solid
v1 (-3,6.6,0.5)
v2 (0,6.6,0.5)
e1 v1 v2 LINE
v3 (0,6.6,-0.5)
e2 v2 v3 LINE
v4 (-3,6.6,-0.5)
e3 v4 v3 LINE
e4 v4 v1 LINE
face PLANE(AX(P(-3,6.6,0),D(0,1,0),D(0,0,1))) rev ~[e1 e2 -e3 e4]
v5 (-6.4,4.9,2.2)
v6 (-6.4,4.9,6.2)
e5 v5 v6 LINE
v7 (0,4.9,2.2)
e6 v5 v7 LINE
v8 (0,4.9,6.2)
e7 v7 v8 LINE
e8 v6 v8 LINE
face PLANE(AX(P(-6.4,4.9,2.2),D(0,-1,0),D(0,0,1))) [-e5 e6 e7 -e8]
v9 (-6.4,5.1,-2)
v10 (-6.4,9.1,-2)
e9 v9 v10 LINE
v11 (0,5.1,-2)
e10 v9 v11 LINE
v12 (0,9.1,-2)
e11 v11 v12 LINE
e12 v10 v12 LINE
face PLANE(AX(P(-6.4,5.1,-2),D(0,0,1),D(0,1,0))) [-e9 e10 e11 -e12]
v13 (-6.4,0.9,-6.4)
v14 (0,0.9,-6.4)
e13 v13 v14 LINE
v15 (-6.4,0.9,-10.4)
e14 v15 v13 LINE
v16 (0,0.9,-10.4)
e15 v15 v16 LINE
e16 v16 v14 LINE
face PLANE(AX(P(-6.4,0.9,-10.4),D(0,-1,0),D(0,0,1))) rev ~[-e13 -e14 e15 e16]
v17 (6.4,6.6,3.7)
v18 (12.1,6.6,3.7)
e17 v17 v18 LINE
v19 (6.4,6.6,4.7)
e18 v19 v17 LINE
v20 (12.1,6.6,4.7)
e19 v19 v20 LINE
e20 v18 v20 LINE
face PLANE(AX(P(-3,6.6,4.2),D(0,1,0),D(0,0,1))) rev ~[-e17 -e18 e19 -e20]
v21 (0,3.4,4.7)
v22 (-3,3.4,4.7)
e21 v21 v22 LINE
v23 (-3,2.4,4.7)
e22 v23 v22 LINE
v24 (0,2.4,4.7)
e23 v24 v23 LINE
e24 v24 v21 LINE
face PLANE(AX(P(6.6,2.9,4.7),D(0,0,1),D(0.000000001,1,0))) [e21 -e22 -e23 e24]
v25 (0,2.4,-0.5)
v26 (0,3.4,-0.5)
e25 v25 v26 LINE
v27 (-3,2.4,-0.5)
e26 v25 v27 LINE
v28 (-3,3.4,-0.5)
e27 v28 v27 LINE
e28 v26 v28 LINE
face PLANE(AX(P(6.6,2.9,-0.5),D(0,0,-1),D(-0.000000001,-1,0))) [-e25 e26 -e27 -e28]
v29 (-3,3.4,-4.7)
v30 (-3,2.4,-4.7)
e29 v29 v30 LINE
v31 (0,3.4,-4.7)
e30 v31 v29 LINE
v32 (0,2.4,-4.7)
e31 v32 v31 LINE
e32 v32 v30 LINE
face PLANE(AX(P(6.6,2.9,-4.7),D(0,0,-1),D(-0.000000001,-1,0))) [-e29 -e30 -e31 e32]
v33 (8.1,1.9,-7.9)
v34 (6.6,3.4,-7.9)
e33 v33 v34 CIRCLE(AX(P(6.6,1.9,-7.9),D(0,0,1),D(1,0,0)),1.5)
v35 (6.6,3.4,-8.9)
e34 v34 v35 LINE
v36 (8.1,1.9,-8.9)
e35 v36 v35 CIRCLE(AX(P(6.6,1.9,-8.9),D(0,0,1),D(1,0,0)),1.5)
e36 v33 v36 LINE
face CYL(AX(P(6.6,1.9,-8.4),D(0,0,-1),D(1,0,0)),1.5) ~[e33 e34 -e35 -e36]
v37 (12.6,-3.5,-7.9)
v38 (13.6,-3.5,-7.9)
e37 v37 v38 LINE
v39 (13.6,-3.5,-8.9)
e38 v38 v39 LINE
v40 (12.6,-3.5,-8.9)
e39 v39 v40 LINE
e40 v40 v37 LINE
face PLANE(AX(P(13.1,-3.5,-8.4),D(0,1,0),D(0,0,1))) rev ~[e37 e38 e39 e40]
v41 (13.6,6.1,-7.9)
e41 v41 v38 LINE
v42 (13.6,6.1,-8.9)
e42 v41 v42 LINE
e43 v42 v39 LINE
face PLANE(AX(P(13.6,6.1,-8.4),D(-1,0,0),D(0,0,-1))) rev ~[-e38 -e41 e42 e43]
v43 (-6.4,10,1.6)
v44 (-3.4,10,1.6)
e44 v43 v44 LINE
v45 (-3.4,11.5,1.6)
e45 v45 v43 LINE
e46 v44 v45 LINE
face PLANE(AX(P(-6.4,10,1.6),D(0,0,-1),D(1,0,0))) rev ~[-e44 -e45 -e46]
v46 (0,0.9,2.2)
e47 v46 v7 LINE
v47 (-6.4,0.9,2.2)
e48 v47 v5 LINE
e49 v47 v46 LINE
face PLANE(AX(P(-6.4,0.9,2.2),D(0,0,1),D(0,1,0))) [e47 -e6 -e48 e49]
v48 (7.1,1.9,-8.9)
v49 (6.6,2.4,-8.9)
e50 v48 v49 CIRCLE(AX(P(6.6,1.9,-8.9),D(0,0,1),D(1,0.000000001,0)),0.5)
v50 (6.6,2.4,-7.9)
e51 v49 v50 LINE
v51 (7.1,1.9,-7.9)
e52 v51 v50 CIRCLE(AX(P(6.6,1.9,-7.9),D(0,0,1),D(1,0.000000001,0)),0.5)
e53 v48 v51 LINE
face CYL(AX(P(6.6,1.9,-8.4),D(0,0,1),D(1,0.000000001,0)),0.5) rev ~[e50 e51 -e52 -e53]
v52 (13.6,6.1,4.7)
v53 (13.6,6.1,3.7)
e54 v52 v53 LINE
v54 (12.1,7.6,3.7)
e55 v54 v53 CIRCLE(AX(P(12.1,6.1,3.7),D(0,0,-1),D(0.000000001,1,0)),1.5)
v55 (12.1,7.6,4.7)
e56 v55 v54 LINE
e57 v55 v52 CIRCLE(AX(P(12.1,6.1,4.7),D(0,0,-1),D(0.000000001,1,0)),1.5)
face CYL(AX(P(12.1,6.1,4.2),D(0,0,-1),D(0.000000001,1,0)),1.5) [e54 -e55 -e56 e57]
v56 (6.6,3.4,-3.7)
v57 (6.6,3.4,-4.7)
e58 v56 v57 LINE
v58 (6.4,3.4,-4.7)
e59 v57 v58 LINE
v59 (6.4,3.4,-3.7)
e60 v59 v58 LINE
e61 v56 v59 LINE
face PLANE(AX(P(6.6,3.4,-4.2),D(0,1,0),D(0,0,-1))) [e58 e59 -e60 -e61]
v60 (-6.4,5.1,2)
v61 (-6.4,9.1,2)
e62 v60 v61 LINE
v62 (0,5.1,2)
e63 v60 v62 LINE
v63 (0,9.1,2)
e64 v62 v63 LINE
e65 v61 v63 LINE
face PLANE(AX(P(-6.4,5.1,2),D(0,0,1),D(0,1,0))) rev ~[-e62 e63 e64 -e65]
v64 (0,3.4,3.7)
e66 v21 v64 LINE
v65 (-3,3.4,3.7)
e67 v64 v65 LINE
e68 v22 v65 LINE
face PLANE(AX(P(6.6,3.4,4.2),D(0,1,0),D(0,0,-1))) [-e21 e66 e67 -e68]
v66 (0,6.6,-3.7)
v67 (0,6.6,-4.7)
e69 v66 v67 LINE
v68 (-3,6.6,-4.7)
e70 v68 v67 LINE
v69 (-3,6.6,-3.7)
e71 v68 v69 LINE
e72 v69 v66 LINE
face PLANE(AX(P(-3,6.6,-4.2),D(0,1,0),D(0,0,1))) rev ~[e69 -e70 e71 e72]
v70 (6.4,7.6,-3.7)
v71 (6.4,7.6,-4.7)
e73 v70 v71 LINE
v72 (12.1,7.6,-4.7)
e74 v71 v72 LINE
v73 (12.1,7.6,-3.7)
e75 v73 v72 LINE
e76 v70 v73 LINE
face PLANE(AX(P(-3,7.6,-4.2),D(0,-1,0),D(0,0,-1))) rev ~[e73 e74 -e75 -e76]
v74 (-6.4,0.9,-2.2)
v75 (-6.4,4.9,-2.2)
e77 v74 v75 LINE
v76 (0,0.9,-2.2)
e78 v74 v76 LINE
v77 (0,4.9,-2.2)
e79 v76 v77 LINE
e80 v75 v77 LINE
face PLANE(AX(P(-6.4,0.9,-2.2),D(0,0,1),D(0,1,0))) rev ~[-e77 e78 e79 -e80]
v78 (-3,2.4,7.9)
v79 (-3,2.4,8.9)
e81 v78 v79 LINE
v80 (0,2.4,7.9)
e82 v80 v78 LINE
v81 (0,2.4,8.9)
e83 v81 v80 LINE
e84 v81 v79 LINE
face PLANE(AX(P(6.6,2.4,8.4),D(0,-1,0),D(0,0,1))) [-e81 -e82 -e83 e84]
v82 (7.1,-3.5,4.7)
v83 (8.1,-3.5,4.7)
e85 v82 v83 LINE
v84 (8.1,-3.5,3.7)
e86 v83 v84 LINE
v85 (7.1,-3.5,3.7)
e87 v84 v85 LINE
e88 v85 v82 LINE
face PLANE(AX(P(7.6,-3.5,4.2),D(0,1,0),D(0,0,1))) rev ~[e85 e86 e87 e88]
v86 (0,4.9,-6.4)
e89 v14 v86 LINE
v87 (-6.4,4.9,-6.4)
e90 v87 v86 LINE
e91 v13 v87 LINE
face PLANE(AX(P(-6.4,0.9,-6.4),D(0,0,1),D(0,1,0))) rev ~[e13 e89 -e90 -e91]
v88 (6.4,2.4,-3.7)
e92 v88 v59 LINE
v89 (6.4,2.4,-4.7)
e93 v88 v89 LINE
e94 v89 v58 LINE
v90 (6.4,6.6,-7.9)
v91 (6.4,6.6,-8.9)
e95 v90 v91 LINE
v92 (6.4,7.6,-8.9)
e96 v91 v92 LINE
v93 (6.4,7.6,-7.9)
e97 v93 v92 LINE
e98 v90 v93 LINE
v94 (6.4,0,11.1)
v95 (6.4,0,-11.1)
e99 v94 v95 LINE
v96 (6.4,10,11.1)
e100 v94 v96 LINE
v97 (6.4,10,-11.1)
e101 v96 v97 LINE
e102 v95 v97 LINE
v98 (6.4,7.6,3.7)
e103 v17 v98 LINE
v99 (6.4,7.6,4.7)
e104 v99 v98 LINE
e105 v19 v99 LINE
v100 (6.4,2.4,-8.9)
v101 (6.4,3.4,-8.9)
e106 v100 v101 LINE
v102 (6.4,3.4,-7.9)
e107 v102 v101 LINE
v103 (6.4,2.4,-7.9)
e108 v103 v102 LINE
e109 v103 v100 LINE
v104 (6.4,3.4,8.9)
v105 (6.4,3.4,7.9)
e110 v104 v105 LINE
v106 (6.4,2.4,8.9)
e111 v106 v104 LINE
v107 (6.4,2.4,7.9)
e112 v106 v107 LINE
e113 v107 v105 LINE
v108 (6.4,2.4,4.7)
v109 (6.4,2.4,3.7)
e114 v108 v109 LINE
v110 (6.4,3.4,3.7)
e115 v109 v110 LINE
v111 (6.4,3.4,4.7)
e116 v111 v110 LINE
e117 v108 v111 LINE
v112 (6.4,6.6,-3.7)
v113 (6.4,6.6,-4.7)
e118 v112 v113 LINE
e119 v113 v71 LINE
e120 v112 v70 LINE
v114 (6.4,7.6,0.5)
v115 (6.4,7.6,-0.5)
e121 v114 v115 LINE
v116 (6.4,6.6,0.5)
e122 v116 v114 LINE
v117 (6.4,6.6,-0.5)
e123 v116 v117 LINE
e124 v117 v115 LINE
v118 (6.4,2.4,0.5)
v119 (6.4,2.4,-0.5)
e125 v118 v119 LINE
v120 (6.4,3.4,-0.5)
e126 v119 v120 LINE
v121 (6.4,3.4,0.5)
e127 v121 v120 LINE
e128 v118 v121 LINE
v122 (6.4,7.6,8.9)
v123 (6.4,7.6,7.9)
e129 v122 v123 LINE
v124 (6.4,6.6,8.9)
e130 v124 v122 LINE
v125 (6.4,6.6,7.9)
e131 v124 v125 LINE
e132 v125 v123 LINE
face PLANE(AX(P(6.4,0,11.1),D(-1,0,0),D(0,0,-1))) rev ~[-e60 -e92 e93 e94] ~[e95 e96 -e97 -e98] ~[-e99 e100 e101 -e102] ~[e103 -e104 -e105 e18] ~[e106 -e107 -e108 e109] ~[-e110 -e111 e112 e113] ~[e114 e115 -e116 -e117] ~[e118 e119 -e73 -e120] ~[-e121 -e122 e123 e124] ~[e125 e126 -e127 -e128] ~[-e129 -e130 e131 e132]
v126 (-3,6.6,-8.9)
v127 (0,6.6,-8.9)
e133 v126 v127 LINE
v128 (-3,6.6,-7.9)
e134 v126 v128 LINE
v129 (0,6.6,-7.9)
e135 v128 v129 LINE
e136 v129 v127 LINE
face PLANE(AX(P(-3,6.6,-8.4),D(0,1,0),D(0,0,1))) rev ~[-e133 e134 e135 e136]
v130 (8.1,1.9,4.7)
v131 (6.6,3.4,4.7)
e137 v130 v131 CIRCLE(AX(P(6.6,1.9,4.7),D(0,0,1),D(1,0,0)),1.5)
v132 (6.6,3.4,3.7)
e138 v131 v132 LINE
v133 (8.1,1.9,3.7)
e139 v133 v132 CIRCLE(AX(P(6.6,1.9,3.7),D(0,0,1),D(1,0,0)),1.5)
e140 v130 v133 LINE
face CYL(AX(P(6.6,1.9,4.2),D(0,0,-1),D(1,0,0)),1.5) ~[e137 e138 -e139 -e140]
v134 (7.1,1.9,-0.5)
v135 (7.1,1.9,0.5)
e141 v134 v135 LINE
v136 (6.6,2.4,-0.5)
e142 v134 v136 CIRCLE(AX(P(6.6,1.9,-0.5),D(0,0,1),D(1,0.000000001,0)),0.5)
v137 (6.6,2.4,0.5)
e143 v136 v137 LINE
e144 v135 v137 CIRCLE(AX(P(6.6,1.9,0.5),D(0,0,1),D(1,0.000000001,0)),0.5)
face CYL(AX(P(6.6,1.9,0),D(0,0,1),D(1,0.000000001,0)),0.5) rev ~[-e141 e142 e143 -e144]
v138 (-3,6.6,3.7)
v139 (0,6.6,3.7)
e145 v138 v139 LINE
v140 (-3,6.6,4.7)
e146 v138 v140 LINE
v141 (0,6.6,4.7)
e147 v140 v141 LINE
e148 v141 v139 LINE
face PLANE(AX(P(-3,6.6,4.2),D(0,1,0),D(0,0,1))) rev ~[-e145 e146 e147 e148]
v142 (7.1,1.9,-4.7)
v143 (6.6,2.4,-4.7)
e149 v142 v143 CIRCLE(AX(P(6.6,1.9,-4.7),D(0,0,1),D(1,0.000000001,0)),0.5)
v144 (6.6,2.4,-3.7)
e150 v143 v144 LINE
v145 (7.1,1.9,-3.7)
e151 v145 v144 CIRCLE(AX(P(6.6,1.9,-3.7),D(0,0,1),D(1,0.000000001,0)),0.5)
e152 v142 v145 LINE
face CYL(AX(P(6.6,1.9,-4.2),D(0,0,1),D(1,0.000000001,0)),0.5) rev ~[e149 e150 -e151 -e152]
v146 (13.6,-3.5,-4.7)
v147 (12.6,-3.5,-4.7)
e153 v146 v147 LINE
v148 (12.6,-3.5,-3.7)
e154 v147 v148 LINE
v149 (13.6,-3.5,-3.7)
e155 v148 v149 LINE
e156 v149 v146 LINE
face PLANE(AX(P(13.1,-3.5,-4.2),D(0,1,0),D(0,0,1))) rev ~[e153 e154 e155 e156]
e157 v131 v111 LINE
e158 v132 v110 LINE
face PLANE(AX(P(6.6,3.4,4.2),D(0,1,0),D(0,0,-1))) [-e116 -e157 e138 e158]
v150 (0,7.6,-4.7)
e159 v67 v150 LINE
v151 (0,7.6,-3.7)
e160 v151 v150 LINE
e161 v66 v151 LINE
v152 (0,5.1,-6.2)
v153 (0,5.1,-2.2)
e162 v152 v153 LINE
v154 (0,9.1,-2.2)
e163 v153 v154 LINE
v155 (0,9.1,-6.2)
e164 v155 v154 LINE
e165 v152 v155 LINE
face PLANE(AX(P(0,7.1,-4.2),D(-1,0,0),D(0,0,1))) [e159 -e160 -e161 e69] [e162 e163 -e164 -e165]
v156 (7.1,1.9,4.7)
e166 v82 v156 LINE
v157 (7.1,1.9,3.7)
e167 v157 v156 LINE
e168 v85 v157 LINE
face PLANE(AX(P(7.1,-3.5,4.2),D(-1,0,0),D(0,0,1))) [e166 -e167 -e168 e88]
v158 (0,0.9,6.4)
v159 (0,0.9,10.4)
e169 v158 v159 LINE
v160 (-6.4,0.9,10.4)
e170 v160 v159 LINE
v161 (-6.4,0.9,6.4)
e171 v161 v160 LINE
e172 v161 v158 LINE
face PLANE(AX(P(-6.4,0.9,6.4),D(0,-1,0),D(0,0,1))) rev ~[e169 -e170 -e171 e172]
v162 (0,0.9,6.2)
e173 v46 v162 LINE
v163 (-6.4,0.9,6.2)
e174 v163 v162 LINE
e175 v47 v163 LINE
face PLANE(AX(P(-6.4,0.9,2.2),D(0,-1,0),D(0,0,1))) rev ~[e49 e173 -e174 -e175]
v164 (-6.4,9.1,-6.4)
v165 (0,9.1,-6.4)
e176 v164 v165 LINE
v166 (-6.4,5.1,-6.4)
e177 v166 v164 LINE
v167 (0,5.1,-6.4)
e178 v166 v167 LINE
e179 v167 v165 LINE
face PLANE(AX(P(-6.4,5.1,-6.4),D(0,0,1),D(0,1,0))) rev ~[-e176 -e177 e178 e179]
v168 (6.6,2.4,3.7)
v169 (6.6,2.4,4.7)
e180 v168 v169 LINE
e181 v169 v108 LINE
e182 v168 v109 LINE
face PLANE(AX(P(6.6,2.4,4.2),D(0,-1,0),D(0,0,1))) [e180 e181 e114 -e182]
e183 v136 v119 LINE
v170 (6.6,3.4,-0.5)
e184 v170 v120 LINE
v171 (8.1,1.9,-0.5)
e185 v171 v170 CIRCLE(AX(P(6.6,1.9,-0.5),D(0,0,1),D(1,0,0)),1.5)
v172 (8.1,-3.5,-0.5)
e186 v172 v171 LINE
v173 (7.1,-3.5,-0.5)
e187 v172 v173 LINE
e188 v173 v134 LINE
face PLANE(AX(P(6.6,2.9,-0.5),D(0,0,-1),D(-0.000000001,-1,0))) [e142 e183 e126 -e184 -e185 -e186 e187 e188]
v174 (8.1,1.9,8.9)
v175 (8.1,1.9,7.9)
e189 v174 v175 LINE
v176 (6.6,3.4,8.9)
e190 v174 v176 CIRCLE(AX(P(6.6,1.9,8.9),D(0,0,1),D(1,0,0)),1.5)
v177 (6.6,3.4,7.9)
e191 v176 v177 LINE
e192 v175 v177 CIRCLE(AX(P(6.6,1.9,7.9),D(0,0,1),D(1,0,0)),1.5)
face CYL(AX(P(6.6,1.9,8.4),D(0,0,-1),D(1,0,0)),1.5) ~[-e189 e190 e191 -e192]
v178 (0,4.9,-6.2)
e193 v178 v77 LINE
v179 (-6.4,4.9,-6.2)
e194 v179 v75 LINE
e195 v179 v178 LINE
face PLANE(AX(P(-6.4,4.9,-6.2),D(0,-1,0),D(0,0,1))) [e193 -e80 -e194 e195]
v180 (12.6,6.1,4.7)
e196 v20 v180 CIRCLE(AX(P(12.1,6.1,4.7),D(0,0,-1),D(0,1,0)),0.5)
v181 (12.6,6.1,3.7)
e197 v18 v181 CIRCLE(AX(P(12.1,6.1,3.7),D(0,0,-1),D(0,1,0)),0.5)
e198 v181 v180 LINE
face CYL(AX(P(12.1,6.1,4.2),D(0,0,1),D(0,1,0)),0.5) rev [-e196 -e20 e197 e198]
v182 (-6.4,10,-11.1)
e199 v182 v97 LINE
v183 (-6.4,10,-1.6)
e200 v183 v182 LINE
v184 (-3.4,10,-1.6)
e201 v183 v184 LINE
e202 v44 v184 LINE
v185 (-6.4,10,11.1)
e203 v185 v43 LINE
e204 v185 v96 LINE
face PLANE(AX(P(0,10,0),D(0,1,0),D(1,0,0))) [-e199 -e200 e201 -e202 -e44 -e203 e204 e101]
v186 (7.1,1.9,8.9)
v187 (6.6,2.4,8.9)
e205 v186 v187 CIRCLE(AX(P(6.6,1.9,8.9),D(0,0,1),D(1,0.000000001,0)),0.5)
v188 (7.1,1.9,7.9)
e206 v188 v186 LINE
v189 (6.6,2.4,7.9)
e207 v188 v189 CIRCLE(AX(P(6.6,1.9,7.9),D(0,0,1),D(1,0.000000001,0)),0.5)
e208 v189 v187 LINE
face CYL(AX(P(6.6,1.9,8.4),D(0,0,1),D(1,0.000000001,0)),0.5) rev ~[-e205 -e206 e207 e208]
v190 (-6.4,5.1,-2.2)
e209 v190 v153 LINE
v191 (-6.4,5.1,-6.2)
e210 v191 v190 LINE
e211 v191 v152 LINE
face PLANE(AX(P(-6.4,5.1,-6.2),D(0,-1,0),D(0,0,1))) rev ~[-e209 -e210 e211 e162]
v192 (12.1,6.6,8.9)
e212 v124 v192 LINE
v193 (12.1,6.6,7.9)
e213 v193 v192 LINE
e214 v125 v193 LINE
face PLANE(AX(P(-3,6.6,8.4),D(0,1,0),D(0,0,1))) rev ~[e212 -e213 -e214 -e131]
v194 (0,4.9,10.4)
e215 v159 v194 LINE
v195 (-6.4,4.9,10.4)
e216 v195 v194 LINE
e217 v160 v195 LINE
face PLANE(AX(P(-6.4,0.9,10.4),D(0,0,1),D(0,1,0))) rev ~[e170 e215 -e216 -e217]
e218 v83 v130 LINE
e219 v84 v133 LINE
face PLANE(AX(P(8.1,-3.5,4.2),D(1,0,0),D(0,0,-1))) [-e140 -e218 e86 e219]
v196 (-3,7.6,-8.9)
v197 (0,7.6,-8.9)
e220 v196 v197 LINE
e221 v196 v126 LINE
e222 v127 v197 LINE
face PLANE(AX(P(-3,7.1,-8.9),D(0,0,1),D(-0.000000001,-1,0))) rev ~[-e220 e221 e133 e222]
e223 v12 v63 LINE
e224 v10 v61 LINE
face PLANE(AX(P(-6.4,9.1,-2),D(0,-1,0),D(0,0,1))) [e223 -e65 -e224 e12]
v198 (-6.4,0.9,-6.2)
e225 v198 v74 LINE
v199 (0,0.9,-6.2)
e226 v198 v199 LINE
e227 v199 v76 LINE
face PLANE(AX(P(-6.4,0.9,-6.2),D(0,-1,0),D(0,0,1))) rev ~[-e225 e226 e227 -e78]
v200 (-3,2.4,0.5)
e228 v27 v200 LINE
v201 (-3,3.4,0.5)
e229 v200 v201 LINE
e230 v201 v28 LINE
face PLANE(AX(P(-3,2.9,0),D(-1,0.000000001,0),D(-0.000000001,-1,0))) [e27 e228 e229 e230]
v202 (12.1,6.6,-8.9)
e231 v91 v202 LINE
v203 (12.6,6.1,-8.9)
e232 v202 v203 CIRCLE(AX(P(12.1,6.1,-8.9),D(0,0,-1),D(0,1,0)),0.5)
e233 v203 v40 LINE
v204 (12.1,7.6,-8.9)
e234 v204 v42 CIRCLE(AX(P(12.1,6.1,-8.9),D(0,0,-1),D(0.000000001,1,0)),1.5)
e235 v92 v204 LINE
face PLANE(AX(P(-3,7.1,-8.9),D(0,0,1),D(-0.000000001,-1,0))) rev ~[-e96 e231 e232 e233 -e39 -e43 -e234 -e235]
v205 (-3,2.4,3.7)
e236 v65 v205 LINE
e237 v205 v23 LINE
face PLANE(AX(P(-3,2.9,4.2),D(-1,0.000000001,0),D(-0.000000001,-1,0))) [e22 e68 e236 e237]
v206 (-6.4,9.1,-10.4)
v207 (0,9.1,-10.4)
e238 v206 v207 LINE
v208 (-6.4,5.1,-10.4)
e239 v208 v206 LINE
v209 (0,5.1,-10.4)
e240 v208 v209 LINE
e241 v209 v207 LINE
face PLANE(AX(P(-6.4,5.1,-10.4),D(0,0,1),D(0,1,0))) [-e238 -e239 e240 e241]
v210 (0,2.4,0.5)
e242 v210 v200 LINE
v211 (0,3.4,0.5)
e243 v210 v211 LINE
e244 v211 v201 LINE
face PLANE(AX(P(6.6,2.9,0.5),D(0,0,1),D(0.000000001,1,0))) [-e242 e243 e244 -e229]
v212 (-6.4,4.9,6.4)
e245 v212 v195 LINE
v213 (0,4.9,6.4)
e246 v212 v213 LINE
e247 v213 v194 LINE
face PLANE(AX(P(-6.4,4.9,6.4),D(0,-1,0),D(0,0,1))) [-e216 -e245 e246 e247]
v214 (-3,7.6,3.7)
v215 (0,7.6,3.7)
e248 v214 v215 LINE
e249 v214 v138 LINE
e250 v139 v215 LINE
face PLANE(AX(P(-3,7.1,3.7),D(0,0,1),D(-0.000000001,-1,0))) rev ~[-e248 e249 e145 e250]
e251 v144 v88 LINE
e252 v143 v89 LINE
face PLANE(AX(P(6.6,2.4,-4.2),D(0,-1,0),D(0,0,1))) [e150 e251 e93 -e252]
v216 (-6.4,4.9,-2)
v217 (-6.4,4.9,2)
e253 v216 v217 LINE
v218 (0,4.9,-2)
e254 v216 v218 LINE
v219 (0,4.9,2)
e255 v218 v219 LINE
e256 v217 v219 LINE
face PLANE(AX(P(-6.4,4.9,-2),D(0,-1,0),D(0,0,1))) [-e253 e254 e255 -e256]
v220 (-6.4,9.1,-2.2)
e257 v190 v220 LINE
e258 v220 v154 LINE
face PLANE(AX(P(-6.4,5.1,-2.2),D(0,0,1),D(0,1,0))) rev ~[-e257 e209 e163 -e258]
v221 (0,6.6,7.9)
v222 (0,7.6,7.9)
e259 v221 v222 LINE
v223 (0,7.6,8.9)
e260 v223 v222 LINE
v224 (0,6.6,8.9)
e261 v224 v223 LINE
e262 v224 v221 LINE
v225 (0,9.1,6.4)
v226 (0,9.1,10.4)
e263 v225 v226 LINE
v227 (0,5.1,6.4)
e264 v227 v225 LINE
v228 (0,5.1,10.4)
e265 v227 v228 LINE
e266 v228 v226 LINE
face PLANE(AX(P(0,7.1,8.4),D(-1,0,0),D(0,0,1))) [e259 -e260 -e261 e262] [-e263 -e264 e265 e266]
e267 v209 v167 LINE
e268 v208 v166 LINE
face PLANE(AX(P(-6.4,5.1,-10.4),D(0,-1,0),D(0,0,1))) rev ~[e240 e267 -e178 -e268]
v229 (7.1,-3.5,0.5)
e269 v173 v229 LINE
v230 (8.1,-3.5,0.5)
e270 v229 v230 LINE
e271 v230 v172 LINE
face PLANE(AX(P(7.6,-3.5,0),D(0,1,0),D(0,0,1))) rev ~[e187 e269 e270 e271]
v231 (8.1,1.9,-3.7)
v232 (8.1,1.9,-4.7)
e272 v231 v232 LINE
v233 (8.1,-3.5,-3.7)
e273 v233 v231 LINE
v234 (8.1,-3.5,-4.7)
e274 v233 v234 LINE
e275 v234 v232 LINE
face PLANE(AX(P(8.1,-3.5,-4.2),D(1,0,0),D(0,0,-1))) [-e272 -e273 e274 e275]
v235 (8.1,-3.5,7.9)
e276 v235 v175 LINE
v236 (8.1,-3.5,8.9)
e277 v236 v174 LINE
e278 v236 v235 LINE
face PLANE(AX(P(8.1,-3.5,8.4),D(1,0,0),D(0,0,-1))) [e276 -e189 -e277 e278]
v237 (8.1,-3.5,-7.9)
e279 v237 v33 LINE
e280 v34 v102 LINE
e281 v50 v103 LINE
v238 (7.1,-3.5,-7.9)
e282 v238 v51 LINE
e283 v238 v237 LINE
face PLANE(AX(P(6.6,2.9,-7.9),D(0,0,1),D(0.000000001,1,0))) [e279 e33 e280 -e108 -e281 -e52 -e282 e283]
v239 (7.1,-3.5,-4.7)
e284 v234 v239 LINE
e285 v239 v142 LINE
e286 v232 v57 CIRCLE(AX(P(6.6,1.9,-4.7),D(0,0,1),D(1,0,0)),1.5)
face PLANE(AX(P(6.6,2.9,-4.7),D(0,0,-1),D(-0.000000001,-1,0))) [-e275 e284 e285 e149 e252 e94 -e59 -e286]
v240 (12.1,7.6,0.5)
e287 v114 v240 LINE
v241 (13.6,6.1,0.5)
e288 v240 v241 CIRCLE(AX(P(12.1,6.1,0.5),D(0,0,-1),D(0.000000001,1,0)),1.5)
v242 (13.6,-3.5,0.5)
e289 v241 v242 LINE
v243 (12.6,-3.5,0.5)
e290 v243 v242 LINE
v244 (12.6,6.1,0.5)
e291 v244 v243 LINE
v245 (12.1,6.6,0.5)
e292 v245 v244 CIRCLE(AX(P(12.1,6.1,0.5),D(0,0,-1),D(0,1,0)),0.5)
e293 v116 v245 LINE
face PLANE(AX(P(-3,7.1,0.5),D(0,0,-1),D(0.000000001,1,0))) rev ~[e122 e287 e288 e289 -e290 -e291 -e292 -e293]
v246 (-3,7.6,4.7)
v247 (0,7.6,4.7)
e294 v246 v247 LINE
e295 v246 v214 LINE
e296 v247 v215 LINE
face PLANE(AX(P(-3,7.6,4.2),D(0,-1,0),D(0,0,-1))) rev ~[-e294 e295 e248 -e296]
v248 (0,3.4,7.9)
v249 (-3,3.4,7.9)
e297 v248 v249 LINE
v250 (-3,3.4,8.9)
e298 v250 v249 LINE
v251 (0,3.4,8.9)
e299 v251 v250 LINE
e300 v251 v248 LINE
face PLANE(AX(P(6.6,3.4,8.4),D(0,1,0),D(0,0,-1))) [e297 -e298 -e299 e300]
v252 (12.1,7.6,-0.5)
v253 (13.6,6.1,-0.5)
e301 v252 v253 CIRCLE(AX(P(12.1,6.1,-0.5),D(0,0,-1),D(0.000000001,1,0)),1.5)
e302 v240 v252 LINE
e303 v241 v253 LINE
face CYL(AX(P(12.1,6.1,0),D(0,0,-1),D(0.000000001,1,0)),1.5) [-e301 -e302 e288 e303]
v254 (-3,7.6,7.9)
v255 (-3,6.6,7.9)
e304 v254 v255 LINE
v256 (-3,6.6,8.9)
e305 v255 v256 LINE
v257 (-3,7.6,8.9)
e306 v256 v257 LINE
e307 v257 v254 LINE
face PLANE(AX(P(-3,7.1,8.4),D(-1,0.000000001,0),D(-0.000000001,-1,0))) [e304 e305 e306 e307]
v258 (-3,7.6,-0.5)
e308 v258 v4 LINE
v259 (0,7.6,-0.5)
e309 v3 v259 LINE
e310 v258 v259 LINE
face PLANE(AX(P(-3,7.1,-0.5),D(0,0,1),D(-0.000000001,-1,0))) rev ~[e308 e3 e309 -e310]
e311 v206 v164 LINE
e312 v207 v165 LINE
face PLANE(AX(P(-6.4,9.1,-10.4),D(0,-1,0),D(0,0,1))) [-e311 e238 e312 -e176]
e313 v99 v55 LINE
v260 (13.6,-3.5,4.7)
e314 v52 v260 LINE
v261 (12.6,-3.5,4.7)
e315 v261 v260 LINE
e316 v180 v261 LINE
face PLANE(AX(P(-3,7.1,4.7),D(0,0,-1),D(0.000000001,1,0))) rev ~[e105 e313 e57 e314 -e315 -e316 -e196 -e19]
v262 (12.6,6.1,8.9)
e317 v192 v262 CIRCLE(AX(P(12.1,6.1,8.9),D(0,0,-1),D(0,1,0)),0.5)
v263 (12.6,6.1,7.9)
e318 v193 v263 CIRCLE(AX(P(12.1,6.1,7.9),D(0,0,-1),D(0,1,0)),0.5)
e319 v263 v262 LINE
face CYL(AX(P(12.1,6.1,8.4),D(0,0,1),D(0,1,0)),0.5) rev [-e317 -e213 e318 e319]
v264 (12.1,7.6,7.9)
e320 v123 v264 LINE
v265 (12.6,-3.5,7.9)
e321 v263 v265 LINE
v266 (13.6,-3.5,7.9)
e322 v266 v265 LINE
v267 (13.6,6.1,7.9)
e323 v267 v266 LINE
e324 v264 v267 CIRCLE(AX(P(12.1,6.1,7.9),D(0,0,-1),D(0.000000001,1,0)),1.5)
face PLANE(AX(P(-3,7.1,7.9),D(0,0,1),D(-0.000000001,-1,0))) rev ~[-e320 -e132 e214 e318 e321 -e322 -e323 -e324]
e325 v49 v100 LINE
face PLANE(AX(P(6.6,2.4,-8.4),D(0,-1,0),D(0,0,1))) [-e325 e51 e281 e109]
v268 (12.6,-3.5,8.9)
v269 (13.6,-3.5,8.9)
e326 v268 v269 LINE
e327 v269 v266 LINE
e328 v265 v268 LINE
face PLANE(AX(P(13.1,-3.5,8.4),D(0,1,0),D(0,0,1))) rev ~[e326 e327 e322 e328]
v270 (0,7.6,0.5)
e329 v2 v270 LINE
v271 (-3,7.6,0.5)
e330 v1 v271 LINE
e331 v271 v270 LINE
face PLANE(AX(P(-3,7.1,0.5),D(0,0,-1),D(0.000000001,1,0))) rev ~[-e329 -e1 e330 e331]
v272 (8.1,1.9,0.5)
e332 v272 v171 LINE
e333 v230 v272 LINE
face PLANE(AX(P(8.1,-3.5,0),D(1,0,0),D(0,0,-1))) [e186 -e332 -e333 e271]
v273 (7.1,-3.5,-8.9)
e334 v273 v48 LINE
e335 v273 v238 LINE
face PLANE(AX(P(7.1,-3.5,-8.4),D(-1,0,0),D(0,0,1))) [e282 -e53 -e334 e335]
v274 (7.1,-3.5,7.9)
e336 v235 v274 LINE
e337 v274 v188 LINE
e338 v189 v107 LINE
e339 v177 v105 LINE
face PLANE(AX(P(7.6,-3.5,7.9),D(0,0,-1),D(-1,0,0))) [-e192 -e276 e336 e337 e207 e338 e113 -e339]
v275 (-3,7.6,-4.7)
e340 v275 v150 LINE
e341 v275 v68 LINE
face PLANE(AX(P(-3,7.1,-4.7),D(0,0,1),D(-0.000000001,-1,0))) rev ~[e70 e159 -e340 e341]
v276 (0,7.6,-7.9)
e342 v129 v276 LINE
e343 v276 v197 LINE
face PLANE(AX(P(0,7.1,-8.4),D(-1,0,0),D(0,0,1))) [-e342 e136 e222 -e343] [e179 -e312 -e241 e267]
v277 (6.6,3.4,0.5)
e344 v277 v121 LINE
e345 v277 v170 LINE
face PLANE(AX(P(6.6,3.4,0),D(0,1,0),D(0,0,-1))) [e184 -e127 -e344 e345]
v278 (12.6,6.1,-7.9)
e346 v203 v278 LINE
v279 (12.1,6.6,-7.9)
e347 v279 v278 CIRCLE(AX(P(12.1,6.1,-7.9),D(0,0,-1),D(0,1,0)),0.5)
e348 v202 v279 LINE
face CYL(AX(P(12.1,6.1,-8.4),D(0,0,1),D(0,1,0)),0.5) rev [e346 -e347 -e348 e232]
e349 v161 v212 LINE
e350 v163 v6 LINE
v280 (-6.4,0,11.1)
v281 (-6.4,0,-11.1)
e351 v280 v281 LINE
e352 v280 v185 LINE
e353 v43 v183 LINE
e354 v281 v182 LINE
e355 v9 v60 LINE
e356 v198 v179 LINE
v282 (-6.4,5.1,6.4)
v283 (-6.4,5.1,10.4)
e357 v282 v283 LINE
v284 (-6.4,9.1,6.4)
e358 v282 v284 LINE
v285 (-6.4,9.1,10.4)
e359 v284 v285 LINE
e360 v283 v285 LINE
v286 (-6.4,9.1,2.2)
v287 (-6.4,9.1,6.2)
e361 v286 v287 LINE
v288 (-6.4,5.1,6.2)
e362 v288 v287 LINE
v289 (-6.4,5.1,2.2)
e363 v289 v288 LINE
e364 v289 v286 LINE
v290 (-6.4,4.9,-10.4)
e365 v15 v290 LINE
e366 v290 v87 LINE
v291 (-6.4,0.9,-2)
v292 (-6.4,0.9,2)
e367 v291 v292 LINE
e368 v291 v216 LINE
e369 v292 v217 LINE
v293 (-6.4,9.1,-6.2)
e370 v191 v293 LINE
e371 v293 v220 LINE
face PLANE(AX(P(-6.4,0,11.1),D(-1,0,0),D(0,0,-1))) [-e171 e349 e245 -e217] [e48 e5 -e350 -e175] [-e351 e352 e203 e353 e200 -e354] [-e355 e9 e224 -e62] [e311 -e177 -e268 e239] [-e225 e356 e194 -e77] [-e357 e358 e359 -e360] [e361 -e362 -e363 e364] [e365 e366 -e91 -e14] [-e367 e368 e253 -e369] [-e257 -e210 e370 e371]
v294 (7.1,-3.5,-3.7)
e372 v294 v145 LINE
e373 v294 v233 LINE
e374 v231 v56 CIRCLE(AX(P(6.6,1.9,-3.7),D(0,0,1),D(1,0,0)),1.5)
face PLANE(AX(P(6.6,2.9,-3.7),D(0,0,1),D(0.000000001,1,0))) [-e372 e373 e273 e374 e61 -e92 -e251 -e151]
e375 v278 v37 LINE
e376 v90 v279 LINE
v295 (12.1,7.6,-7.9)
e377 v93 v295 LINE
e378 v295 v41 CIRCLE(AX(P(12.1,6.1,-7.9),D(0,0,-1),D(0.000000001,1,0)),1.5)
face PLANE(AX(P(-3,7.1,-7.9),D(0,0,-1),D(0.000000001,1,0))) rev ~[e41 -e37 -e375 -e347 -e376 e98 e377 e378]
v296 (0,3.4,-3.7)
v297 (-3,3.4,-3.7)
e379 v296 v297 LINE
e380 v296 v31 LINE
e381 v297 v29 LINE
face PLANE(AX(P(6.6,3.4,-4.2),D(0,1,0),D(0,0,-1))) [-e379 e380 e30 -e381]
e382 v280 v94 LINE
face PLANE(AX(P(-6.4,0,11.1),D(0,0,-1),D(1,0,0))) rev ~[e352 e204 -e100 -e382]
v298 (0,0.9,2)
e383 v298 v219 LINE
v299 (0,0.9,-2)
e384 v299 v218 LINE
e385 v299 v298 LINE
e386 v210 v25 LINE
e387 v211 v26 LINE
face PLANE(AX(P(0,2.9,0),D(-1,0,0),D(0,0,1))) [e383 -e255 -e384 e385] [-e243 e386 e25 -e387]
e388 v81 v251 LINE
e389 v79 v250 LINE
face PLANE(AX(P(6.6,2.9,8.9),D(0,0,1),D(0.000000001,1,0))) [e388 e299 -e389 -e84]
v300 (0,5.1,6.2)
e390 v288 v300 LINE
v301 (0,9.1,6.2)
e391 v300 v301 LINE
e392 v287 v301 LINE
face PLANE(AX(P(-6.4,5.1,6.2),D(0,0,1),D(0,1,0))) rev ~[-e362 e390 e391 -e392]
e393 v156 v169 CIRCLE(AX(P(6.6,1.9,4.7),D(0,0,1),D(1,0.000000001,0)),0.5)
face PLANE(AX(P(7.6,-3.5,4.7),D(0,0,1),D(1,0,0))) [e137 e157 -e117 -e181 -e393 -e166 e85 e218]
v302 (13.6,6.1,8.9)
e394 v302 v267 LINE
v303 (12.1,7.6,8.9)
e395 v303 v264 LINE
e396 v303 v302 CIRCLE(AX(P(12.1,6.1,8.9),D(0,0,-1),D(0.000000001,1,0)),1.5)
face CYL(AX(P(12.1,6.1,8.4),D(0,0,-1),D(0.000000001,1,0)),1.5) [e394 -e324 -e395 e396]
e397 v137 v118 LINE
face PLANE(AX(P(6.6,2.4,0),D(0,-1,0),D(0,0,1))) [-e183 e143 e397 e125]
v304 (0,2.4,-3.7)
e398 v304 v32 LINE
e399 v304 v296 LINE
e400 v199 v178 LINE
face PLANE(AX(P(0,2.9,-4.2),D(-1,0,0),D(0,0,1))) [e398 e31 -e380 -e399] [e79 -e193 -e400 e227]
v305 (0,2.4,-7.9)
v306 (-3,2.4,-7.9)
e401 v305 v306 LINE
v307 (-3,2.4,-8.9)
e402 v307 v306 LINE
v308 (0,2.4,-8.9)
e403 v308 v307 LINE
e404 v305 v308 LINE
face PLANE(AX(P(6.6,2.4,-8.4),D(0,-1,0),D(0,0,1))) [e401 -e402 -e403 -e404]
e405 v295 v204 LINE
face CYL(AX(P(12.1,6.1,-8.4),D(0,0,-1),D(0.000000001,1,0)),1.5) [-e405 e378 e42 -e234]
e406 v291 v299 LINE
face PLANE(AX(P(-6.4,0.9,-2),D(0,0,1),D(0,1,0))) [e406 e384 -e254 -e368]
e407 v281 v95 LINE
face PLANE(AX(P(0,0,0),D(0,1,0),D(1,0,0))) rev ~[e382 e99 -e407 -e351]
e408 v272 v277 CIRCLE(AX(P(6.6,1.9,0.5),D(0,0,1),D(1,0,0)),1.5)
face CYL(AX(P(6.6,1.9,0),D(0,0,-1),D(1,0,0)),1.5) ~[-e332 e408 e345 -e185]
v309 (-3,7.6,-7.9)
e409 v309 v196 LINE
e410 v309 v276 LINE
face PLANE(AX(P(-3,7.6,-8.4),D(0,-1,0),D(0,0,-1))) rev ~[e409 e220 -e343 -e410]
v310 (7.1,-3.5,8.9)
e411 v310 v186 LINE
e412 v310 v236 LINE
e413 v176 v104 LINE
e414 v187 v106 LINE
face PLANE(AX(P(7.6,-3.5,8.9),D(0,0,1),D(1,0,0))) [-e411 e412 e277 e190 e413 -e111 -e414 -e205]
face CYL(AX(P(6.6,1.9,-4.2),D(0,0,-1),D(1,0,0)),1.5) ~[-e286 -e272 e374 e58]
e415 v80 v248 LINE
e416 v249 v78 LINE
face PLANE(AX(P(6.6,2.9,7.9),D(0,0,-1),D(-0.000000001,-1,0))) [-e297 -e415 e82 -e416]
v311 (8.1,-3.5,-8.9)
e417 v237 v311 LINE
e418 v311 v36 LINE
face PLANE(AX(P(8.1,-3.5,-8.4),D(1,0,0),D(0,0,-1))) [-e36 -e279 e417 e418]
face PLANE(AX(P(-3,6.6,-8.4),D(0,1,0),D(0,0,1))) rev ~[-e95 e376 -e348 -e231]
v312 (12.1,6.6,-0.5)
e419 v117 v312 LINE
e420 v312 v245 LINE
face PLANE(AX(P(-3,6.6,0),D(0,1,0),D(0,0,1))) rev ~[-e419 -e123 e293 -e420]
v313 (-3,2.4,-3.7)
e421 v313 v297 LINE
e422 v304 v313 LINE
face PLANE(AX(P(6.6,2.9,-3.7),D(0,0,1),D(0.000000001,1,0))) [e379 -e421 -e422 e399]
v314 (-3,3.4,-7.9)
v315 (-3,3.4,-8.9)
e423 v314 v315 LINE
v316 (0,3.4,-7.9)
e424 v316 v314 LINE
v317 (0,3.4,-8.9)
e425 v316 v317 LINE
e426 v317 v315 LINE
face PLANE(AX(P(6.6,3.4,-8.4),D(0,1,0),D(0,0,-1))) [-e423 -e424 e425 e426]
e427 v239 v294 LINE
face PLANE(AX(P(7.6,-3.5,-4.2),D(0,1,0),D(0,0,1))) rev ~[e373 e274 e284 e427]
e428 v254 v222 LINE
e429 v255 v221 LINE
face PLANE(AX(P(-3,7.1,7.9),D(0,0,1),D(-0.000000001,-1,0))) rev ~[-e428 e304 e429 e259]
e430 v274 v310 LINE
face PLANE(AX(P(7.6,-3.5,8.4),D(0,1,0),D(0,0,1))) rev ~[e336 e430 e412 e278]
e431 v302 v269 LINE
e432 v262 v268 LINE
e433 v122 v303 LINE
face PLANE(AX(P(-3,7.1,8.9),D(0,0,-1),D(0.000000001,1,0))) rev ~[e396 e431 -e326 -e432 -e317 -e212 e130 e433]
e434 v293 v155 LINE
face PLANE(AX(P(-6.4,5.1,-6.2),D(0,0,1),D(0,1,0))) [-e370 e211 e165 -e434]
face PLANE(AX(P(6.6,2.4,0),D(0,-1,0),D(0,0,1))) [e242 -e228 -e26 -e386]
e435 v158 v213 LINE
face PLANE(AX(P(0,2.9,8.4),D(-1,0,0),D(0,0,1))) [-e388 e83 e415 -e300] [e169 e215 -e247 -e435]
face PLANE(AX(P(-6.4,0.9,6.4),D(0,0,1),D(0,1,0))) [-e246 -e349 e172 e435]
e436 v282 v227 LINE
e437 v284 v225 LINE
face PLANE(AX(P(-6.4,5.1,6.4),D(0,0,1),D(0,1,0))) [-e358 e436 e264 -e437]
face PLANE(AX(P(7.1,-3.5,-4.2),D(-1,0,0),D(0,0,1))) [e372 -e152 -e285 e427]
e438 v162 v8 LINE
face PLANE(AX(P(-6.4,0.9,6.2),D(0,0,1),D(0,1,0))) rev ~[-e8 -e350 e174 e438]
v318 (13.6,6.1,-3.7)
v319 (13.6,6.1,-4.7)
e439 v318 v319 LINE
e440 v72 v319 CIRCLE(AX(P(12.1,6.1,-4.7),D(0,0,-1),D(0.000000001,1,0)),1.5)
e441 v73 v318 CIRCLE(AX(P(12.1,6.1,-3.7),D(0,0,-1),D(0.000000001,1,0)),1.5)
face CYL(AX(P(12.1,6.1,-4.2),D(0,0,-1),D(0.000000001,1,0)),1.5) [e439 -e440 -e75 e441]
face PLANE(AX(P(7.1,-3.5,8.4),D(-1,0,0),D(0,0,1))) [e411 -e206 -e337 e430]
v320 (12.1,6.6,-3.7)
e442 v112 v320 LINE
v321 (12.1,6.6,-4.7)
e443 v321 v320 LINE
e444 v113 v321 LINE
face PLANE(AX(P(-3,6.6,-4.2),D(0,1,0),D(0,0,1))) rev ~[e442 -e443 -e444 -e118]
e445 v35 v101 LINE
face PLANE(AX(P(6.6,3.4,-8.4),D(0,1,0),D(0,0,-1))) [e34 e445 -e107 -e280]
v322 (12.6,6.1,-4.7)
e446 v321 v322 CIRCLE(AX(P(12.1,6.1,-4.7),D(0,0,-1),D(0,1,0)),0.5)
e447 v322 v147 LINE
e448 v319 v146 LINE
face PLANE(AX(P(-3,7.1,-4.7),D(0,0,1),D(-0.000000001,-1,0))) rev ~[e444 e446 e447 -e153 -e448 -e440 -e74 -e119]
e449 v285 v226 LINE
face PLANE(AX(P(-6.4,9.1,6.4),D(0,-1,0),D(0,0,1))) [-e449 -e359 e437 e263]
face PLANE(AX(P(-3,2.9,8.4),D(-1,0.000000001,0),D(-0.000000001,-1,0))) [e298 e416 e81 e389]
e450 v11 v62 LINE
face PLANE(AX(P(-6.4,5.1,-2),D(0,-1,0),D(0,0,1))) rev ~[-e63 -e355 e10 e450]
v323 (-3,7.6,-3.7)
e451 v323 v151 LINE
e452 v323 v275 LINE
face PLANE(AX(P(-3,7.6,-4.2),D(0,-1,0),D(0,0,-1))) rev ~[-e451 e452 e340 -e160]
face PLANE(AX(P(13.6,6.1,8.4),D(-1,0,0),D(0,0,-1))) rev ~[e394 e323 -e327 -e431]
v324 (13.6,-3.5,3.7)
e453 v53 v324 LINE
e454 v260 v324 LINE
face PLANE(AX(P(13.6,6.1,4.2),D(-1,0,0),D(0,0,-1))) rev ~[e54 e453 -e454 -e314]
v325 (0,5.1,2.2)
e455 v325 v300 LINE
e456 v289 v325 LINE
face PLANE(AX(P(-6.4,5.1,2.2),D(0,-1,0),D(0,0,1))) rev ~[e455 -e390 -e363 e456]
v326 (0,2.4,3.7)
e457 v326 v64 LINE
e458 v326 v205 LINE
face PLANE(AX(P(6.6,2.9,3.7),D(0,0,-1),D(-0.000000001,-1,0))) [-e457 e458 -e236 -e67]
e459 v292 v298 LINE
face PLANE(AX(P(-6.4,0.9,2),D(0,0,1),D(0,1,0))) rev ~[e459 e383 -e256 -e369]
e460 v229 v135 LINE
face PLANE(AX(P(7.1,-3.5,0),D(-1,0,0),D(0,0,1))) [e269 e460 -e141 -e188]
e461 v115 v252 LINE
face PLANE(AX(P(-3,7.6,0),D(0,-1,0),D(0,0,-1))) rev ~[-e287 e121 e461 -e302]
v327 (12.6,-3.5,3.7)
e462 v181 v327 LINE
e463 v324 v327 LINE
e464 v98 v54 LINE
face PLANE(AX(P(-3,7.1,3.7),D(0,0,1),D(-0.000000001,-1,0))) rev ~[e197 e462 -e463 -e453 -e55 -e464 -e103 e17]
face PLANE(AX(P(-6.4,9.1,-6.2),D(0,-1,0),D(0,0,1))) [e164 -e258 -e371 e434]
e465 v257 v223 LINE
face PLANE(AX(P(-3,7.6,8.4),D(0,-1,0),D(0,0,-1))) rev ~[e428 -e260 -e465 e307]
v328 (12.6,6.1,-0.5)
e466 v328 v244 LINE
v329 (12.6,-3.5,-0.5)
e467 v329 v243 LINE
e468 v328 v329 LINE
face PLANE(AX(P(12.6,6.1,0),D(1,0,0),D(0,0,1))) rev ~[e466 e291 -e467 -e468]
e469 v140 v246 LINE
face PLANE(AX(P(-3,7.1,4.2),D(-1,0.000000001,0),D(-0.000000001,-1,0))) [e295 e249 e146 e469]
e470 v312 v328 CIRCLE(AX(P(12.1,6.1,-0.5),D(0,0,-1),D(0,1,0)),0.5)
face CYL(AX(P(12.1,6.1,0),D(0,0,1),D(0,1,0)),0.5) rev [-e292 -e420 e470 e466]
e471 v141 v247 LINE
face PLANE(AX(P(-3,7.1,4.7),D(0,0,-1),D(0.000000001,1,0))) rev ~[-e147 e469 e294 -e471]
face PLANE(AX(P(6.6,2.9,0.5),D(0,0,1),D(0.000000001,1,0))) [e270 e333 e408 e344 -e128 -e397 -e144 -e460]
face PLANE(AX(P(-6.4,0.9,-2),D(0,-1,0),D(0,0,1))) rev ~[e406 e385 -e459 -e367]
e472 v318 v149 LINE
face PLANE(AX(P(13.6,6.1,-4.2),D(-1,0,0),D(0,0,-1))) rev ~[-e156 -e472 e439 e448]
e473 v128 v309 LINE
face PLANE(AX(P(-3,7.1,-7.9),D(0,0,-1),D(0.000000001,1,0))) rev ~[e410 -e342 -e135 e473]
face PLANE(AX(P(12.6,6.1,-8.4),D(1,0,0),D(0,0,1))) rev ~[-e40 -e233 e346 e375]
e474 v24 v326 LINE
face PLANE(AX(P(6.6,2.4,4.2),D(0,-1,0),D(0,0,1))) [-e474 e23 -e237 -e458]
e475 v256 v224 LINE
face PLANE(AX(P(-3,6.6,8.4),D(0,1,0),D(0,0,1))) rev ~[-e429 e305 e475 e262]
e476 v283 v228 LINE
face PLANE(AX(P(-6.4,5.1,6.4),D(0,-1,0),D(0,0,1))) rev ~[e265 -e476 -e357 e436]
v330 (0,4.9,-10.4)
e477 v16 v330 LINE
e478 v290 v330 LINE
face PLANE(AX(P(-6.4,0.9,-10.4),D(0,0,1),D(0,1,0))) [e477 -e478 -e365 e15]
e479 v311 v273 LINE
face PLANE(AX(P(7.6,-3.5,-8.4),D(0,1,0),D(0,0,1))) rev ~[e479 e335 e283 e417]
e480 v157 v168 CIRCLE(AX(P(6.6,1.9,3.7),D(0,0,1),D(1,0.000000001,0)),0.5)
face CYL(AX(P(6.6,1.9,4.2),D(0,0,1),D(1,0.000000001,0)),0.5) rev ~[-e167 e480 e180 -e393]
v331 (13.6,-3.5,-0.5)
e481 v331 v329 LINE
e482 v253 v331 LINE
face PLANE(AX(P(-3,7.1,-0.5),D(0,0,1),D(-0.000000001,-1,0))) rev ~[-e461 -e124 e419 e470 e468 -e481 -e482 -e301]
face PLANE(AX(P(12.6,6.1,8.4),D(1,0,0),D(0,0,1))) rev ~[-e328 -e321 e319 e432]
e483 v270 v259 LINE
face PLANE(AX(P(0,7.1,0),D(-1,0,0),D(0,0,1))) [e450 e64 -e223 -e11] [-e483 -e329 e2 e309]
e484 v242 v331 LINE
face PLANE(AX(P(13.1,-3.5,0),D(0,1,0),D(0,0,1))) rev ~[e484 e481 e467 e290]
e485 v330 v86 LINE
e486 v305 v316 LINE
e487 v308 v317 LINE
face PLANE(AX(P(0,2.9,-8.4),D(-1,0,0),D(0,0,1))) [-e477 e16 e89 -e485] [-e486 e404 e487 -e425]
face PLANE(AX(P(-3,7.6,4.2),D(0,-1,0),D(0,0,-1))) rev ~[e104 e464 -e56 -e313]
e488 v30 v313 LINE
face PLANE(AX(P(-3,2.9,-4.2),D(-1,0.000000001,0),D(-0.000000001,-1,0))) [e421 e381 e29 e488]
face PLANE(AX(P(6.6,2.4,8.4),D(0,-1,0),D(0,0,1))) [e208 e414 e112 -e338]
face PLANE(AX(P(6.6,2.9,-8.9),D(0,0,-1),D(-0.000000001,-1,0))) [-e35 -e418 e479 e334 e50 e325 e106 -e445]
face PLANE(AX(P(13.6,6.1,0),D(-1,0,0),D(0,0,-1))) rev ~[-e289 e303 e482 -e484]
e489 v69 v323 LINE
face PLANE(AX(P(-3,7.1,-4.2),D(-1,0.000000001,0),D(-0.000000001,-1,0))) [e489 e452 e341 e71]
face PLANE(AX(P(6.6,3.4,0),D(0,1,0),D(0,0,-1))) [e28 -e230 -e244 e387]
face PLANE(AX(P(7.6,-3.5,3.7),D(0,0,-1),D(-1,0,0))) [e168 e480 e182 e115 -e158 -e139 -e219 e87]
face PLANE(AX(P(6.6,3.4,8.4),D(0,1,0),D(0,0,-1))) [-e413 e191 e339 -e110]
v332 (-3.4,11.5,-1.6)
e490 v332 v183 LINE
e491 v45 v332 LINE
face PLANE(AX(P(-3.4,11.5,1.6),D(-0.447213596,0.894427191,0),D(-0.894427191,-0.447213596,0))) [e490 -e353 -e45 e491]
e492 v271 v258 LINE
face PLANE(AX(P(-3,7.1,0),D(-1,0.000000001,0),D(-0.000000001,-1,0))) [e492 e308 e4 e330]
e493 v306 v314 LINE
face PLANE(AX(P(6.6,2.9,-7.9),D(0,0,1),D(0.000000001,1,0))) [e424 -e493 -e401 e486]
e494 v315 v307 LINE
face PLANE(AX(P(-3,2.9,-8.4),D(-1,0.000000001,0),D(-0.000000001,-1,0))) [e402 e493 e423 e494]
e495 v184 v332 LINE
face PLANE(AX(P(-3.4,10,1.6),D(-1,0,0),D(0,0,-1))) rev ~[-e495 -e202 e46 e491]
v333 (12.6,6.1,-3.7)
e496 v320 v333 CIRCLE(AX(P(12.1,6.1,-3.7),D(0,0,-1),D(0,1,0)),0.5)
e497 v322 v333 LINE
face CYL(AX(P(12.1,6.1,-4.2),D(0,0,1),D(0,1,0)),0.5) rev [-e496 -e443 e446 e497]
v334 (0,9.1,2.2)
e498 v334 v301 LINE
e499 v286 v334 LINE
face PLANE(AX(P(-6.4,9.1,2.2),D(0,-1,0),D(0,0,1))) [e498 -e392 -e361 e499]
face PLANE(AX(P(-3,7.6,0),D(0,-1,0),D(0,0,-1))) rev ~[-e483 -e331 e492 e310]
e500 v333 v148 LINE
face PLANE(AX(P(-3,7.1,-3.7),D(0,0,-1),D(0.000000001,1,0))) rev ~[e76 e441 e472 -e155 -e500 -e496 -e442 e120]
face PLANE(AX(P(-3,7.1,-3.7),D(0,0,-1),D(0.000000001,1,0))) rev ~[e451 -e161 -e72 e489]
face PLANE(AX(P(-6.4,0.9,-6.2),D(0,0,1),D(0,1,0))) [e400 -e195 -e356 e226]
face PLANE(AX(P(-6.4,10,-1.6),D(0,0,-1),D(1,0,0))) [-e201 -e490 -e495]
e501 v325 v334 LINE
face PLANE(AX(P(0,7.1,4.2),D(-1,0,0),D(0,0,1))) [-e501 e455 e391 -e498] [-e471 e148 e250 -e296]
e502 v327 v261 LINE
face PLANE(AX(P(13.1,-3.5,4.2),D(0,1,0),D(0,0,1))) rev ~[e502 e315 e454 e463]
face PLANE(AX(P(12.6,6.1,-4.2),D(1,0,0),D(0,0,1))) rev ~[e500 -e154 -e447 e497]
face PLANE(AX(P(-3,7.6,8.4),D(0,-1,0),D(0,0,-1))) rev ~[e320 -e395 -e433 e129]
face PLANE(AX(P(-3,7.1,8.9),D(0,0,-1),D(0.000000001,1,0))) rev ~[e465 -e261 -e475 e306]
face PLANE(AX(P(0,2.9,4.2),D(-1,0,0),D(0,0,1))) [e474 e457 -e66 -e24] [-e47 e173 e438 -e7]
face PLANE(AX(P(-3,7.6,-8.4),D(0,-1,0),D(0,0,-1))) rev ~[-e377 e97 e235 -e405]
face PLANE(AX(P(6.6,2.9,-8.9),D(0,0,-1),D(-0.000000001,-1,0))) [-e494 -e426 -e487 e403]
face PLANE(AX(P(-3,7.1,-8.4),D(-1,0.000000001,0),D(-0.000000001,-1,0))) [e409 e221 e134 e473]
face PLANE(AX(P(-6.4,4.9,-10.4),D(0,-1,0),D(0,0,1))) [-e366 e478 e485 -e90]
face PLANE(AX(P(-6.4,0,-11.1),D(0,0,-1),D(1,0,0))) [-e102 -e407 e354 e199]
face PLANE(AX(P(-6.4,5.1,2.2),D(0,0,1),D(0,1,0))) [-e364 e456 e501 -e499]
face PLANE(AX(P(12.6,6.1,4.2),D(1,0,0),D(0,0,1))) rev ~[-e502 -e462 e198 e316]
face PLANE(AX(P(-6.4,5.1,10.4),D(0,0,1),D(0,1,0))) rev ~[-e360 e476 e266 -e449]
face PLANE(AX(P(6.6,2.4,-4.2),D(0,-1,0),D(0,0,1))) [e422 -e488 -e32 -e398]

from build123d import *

# Parameters (mm, degrees)
SKETCH_1_W                  = 12.8
SKETCH_1_H                  = 22.2
EXTRUDE_1_DEPTH             = 10
SKETCH_3_W                  = 4
SKETCH_3_H                  = 4
CUT_EXTRUDE_1_DEPTH         = 6.4
PATTERN_LINEAR_1_COUNT      = 5
PATTERN_LINEAR_1_PITCH      = 4.2
PATTERN_LINEAR_1_COUNT_DIR2 = 2
PATTERN_LINEAR_1_PITCH_DIR2 = 4.2
SKETCH_12_W                 = 1
SKETCH_12_H                 = 1
CUT_EXTRUDE_2_DEPTH         = 6.4
PATTERN_LINEAR_2_COUNT      = 5
PATTERN_LINEAR_2_PITCH      = 4.2
PATTERN_LINEAR_2_COUNT_DIR2 = 2
PATTERN_LINEAR_2_PITCH_DIR2 = 4.2
SKETCH_14_W                 = 1
SKETCH_14_H                 = 1
SKETCH_16_W                 = 1
SKETCH_16_H                 = 1
PATTERN_LINEAR_3_COUNT      = 5
PATTERN_LINEAR_3_PITCH      = 4.2
SKETCH_18_W                 = 3
SKETCH_18_H                 = 3.2
EXTRUDE_2_DEPTH             = 1.5
CUT_EXTRUDE_3_DEPTH         = 3.2


with BuildPart() as part:
    # Эскиз1 → Бобышка-Вытянуть1 (new body)
    with BuildSketch(Plane(origin=(0, 0, 0), x_dir=(1, 0, 0), z_dir=(0, 1, 0))):
        Rectangle(SKETCH_1_W, SKETCH_1_H)
    extrude(amount=EXTRUDE_1_DEPTH)

    # Эскиз3 → Вырез-Вытянуть1 (cut)
    with BuildSketch(Plane.ZY.offset(6.4)):
        with Locations((-8.4, 7.1)):
            Rectangle(SKETCH_3_W, SKETCH_3_H)
    cut_extrude_1 = extrude(amount=-CUT_EXTRUDE_1_DEPTH, mode=Mode.SUBTRACT)

    # Линейный массив1: Cut-Extrude 1 5 × 2
    with Locations(*[(0, -j * PATTERN_LINEAR_1_PITCH_DIR2, i * PATTERN_LINEAR_1_PITCH) for i in range(PATTERN_LINEAR_1_COUNT) for j in range(PATTERN_LINEAR_1_COUNT_DIR2) if (i, j) != (0, 0)]):
        add(cut_extrude_1, mode=Mode.SUBTRACT)

    # Эскиз12 → Вырез-Вытянуть2 (cut)
    with BuildSketch(Plane(origin=(6.4, 0, 0), x_dir=(0, 0, -1), z_dir=(1, 0, 0))):
        with Locations((-8.4, 7.1)):
            Rectangle(SKETCH_12_W, SKETCH_12_H)
    cut_extrude_2 = extrude(amount=-CUT_EXTRUDE_2_DEPTH, mode=Mode.SUBTRACT)

    # Линейный массив2: Cut-Extrude 2 5 × 2
    with Locations(*[(0, -j * PATTERN_LINEAR_2_PITCH_DIR2, -i * PATTERN_LINEAR_2_PITCH) for i in range(PATTERN_LINEAR_2_COUNT) for j in range(PATTERN_LINEAR_2_COUNT_DIR2) if (i, j) != (0, 0)]):
        add(cut_extrude_2, mode=Mode.SUBTRACT)

    # По траектории6: sweep along a path in Эскиз15
    with BuildLine(Plane.XY.offset(11.1)) as sweep_6_path:
        Line((-3, 7.1), (12.1, 7.1))
        ThreePointArc((12.1, 7.1), (12.807106781, 6.807106781), (13.1, 6.1))
        Line((13.1, 6.1), (13.1, -3.5))
    # Эскиз14 → По траектории6 (sweep)
    with BuildSketch(Plane(origin=(0, -3.5, 0), x_dir=(1, 0, 0), z_dir=(0, 1, 0))):
        with Locations((13.1, -8.4)):
            Rectangle(SKETCH_14_W, SKETCH_14_H)
    sweep_6 = sweep(path=sweep_6_path.line)

    # По траектории7: sweep along a path in Эскиз17
    with BuildLine(Plane.XY.offset(11.1)) as sweep_7_path:
        Line((7.6, -3.5), (7.6, 1.9))
        ThreePointArc((7.6, 1.9), (7.307106781, 2.607106781), (6.6, 2.9))
        Line((6.6, 2.9), (-3, 2.9))
    # Эскиз16 → По траектории7 (sweep)
    with BuildSketch(Plane(origin=(0, -3.5, 0), x_dir=(1, 0, 0), z_dir=(0, 1, 0))):
        with Locations((7.6, -8.4)):
            Rectangle(SKETCH_16_W, SKETCH_16_H)
    sweep_7 = sweep(path=sweep_7_path.line)

    # Линейный массив3: По траектории6, По траектории7 ×5
    with Locations(*[(0, 0, -i * PATTERN_LINEAR_3_PITCH) for i in range(1, PATTERN_LINEAR_3_COUNT)]):
        add(sweep_6)
        add(sweep_7)

    # Эскиз18 → Бобышка-Вытянуть2 (add)
    with BuildSketch(Plane(origin=(0, 10, 0), x_dir=(1, 0, 0), z_dir=(0, 1, 0))):
        with Locations((-4.9, 0)):
            Rectangle(SKETCH_18_W, SKETCH_18_H)
    extrude(amount=EXTRUDE_2_DEPTH)

    # Эскиз19 → Вырез-Вытянуть3 (cut)
    with BuildSketch(Plane.XY.offset(1.6)):
        Polygon((-3.4, 11.5), (-6.4, 10), (-6.4, 11.5), align=None)
    extrude(amount=-CUT_EXTRUDE_3_DEPTH, mode=Mode.SUBTRACT)


solid = part.part
